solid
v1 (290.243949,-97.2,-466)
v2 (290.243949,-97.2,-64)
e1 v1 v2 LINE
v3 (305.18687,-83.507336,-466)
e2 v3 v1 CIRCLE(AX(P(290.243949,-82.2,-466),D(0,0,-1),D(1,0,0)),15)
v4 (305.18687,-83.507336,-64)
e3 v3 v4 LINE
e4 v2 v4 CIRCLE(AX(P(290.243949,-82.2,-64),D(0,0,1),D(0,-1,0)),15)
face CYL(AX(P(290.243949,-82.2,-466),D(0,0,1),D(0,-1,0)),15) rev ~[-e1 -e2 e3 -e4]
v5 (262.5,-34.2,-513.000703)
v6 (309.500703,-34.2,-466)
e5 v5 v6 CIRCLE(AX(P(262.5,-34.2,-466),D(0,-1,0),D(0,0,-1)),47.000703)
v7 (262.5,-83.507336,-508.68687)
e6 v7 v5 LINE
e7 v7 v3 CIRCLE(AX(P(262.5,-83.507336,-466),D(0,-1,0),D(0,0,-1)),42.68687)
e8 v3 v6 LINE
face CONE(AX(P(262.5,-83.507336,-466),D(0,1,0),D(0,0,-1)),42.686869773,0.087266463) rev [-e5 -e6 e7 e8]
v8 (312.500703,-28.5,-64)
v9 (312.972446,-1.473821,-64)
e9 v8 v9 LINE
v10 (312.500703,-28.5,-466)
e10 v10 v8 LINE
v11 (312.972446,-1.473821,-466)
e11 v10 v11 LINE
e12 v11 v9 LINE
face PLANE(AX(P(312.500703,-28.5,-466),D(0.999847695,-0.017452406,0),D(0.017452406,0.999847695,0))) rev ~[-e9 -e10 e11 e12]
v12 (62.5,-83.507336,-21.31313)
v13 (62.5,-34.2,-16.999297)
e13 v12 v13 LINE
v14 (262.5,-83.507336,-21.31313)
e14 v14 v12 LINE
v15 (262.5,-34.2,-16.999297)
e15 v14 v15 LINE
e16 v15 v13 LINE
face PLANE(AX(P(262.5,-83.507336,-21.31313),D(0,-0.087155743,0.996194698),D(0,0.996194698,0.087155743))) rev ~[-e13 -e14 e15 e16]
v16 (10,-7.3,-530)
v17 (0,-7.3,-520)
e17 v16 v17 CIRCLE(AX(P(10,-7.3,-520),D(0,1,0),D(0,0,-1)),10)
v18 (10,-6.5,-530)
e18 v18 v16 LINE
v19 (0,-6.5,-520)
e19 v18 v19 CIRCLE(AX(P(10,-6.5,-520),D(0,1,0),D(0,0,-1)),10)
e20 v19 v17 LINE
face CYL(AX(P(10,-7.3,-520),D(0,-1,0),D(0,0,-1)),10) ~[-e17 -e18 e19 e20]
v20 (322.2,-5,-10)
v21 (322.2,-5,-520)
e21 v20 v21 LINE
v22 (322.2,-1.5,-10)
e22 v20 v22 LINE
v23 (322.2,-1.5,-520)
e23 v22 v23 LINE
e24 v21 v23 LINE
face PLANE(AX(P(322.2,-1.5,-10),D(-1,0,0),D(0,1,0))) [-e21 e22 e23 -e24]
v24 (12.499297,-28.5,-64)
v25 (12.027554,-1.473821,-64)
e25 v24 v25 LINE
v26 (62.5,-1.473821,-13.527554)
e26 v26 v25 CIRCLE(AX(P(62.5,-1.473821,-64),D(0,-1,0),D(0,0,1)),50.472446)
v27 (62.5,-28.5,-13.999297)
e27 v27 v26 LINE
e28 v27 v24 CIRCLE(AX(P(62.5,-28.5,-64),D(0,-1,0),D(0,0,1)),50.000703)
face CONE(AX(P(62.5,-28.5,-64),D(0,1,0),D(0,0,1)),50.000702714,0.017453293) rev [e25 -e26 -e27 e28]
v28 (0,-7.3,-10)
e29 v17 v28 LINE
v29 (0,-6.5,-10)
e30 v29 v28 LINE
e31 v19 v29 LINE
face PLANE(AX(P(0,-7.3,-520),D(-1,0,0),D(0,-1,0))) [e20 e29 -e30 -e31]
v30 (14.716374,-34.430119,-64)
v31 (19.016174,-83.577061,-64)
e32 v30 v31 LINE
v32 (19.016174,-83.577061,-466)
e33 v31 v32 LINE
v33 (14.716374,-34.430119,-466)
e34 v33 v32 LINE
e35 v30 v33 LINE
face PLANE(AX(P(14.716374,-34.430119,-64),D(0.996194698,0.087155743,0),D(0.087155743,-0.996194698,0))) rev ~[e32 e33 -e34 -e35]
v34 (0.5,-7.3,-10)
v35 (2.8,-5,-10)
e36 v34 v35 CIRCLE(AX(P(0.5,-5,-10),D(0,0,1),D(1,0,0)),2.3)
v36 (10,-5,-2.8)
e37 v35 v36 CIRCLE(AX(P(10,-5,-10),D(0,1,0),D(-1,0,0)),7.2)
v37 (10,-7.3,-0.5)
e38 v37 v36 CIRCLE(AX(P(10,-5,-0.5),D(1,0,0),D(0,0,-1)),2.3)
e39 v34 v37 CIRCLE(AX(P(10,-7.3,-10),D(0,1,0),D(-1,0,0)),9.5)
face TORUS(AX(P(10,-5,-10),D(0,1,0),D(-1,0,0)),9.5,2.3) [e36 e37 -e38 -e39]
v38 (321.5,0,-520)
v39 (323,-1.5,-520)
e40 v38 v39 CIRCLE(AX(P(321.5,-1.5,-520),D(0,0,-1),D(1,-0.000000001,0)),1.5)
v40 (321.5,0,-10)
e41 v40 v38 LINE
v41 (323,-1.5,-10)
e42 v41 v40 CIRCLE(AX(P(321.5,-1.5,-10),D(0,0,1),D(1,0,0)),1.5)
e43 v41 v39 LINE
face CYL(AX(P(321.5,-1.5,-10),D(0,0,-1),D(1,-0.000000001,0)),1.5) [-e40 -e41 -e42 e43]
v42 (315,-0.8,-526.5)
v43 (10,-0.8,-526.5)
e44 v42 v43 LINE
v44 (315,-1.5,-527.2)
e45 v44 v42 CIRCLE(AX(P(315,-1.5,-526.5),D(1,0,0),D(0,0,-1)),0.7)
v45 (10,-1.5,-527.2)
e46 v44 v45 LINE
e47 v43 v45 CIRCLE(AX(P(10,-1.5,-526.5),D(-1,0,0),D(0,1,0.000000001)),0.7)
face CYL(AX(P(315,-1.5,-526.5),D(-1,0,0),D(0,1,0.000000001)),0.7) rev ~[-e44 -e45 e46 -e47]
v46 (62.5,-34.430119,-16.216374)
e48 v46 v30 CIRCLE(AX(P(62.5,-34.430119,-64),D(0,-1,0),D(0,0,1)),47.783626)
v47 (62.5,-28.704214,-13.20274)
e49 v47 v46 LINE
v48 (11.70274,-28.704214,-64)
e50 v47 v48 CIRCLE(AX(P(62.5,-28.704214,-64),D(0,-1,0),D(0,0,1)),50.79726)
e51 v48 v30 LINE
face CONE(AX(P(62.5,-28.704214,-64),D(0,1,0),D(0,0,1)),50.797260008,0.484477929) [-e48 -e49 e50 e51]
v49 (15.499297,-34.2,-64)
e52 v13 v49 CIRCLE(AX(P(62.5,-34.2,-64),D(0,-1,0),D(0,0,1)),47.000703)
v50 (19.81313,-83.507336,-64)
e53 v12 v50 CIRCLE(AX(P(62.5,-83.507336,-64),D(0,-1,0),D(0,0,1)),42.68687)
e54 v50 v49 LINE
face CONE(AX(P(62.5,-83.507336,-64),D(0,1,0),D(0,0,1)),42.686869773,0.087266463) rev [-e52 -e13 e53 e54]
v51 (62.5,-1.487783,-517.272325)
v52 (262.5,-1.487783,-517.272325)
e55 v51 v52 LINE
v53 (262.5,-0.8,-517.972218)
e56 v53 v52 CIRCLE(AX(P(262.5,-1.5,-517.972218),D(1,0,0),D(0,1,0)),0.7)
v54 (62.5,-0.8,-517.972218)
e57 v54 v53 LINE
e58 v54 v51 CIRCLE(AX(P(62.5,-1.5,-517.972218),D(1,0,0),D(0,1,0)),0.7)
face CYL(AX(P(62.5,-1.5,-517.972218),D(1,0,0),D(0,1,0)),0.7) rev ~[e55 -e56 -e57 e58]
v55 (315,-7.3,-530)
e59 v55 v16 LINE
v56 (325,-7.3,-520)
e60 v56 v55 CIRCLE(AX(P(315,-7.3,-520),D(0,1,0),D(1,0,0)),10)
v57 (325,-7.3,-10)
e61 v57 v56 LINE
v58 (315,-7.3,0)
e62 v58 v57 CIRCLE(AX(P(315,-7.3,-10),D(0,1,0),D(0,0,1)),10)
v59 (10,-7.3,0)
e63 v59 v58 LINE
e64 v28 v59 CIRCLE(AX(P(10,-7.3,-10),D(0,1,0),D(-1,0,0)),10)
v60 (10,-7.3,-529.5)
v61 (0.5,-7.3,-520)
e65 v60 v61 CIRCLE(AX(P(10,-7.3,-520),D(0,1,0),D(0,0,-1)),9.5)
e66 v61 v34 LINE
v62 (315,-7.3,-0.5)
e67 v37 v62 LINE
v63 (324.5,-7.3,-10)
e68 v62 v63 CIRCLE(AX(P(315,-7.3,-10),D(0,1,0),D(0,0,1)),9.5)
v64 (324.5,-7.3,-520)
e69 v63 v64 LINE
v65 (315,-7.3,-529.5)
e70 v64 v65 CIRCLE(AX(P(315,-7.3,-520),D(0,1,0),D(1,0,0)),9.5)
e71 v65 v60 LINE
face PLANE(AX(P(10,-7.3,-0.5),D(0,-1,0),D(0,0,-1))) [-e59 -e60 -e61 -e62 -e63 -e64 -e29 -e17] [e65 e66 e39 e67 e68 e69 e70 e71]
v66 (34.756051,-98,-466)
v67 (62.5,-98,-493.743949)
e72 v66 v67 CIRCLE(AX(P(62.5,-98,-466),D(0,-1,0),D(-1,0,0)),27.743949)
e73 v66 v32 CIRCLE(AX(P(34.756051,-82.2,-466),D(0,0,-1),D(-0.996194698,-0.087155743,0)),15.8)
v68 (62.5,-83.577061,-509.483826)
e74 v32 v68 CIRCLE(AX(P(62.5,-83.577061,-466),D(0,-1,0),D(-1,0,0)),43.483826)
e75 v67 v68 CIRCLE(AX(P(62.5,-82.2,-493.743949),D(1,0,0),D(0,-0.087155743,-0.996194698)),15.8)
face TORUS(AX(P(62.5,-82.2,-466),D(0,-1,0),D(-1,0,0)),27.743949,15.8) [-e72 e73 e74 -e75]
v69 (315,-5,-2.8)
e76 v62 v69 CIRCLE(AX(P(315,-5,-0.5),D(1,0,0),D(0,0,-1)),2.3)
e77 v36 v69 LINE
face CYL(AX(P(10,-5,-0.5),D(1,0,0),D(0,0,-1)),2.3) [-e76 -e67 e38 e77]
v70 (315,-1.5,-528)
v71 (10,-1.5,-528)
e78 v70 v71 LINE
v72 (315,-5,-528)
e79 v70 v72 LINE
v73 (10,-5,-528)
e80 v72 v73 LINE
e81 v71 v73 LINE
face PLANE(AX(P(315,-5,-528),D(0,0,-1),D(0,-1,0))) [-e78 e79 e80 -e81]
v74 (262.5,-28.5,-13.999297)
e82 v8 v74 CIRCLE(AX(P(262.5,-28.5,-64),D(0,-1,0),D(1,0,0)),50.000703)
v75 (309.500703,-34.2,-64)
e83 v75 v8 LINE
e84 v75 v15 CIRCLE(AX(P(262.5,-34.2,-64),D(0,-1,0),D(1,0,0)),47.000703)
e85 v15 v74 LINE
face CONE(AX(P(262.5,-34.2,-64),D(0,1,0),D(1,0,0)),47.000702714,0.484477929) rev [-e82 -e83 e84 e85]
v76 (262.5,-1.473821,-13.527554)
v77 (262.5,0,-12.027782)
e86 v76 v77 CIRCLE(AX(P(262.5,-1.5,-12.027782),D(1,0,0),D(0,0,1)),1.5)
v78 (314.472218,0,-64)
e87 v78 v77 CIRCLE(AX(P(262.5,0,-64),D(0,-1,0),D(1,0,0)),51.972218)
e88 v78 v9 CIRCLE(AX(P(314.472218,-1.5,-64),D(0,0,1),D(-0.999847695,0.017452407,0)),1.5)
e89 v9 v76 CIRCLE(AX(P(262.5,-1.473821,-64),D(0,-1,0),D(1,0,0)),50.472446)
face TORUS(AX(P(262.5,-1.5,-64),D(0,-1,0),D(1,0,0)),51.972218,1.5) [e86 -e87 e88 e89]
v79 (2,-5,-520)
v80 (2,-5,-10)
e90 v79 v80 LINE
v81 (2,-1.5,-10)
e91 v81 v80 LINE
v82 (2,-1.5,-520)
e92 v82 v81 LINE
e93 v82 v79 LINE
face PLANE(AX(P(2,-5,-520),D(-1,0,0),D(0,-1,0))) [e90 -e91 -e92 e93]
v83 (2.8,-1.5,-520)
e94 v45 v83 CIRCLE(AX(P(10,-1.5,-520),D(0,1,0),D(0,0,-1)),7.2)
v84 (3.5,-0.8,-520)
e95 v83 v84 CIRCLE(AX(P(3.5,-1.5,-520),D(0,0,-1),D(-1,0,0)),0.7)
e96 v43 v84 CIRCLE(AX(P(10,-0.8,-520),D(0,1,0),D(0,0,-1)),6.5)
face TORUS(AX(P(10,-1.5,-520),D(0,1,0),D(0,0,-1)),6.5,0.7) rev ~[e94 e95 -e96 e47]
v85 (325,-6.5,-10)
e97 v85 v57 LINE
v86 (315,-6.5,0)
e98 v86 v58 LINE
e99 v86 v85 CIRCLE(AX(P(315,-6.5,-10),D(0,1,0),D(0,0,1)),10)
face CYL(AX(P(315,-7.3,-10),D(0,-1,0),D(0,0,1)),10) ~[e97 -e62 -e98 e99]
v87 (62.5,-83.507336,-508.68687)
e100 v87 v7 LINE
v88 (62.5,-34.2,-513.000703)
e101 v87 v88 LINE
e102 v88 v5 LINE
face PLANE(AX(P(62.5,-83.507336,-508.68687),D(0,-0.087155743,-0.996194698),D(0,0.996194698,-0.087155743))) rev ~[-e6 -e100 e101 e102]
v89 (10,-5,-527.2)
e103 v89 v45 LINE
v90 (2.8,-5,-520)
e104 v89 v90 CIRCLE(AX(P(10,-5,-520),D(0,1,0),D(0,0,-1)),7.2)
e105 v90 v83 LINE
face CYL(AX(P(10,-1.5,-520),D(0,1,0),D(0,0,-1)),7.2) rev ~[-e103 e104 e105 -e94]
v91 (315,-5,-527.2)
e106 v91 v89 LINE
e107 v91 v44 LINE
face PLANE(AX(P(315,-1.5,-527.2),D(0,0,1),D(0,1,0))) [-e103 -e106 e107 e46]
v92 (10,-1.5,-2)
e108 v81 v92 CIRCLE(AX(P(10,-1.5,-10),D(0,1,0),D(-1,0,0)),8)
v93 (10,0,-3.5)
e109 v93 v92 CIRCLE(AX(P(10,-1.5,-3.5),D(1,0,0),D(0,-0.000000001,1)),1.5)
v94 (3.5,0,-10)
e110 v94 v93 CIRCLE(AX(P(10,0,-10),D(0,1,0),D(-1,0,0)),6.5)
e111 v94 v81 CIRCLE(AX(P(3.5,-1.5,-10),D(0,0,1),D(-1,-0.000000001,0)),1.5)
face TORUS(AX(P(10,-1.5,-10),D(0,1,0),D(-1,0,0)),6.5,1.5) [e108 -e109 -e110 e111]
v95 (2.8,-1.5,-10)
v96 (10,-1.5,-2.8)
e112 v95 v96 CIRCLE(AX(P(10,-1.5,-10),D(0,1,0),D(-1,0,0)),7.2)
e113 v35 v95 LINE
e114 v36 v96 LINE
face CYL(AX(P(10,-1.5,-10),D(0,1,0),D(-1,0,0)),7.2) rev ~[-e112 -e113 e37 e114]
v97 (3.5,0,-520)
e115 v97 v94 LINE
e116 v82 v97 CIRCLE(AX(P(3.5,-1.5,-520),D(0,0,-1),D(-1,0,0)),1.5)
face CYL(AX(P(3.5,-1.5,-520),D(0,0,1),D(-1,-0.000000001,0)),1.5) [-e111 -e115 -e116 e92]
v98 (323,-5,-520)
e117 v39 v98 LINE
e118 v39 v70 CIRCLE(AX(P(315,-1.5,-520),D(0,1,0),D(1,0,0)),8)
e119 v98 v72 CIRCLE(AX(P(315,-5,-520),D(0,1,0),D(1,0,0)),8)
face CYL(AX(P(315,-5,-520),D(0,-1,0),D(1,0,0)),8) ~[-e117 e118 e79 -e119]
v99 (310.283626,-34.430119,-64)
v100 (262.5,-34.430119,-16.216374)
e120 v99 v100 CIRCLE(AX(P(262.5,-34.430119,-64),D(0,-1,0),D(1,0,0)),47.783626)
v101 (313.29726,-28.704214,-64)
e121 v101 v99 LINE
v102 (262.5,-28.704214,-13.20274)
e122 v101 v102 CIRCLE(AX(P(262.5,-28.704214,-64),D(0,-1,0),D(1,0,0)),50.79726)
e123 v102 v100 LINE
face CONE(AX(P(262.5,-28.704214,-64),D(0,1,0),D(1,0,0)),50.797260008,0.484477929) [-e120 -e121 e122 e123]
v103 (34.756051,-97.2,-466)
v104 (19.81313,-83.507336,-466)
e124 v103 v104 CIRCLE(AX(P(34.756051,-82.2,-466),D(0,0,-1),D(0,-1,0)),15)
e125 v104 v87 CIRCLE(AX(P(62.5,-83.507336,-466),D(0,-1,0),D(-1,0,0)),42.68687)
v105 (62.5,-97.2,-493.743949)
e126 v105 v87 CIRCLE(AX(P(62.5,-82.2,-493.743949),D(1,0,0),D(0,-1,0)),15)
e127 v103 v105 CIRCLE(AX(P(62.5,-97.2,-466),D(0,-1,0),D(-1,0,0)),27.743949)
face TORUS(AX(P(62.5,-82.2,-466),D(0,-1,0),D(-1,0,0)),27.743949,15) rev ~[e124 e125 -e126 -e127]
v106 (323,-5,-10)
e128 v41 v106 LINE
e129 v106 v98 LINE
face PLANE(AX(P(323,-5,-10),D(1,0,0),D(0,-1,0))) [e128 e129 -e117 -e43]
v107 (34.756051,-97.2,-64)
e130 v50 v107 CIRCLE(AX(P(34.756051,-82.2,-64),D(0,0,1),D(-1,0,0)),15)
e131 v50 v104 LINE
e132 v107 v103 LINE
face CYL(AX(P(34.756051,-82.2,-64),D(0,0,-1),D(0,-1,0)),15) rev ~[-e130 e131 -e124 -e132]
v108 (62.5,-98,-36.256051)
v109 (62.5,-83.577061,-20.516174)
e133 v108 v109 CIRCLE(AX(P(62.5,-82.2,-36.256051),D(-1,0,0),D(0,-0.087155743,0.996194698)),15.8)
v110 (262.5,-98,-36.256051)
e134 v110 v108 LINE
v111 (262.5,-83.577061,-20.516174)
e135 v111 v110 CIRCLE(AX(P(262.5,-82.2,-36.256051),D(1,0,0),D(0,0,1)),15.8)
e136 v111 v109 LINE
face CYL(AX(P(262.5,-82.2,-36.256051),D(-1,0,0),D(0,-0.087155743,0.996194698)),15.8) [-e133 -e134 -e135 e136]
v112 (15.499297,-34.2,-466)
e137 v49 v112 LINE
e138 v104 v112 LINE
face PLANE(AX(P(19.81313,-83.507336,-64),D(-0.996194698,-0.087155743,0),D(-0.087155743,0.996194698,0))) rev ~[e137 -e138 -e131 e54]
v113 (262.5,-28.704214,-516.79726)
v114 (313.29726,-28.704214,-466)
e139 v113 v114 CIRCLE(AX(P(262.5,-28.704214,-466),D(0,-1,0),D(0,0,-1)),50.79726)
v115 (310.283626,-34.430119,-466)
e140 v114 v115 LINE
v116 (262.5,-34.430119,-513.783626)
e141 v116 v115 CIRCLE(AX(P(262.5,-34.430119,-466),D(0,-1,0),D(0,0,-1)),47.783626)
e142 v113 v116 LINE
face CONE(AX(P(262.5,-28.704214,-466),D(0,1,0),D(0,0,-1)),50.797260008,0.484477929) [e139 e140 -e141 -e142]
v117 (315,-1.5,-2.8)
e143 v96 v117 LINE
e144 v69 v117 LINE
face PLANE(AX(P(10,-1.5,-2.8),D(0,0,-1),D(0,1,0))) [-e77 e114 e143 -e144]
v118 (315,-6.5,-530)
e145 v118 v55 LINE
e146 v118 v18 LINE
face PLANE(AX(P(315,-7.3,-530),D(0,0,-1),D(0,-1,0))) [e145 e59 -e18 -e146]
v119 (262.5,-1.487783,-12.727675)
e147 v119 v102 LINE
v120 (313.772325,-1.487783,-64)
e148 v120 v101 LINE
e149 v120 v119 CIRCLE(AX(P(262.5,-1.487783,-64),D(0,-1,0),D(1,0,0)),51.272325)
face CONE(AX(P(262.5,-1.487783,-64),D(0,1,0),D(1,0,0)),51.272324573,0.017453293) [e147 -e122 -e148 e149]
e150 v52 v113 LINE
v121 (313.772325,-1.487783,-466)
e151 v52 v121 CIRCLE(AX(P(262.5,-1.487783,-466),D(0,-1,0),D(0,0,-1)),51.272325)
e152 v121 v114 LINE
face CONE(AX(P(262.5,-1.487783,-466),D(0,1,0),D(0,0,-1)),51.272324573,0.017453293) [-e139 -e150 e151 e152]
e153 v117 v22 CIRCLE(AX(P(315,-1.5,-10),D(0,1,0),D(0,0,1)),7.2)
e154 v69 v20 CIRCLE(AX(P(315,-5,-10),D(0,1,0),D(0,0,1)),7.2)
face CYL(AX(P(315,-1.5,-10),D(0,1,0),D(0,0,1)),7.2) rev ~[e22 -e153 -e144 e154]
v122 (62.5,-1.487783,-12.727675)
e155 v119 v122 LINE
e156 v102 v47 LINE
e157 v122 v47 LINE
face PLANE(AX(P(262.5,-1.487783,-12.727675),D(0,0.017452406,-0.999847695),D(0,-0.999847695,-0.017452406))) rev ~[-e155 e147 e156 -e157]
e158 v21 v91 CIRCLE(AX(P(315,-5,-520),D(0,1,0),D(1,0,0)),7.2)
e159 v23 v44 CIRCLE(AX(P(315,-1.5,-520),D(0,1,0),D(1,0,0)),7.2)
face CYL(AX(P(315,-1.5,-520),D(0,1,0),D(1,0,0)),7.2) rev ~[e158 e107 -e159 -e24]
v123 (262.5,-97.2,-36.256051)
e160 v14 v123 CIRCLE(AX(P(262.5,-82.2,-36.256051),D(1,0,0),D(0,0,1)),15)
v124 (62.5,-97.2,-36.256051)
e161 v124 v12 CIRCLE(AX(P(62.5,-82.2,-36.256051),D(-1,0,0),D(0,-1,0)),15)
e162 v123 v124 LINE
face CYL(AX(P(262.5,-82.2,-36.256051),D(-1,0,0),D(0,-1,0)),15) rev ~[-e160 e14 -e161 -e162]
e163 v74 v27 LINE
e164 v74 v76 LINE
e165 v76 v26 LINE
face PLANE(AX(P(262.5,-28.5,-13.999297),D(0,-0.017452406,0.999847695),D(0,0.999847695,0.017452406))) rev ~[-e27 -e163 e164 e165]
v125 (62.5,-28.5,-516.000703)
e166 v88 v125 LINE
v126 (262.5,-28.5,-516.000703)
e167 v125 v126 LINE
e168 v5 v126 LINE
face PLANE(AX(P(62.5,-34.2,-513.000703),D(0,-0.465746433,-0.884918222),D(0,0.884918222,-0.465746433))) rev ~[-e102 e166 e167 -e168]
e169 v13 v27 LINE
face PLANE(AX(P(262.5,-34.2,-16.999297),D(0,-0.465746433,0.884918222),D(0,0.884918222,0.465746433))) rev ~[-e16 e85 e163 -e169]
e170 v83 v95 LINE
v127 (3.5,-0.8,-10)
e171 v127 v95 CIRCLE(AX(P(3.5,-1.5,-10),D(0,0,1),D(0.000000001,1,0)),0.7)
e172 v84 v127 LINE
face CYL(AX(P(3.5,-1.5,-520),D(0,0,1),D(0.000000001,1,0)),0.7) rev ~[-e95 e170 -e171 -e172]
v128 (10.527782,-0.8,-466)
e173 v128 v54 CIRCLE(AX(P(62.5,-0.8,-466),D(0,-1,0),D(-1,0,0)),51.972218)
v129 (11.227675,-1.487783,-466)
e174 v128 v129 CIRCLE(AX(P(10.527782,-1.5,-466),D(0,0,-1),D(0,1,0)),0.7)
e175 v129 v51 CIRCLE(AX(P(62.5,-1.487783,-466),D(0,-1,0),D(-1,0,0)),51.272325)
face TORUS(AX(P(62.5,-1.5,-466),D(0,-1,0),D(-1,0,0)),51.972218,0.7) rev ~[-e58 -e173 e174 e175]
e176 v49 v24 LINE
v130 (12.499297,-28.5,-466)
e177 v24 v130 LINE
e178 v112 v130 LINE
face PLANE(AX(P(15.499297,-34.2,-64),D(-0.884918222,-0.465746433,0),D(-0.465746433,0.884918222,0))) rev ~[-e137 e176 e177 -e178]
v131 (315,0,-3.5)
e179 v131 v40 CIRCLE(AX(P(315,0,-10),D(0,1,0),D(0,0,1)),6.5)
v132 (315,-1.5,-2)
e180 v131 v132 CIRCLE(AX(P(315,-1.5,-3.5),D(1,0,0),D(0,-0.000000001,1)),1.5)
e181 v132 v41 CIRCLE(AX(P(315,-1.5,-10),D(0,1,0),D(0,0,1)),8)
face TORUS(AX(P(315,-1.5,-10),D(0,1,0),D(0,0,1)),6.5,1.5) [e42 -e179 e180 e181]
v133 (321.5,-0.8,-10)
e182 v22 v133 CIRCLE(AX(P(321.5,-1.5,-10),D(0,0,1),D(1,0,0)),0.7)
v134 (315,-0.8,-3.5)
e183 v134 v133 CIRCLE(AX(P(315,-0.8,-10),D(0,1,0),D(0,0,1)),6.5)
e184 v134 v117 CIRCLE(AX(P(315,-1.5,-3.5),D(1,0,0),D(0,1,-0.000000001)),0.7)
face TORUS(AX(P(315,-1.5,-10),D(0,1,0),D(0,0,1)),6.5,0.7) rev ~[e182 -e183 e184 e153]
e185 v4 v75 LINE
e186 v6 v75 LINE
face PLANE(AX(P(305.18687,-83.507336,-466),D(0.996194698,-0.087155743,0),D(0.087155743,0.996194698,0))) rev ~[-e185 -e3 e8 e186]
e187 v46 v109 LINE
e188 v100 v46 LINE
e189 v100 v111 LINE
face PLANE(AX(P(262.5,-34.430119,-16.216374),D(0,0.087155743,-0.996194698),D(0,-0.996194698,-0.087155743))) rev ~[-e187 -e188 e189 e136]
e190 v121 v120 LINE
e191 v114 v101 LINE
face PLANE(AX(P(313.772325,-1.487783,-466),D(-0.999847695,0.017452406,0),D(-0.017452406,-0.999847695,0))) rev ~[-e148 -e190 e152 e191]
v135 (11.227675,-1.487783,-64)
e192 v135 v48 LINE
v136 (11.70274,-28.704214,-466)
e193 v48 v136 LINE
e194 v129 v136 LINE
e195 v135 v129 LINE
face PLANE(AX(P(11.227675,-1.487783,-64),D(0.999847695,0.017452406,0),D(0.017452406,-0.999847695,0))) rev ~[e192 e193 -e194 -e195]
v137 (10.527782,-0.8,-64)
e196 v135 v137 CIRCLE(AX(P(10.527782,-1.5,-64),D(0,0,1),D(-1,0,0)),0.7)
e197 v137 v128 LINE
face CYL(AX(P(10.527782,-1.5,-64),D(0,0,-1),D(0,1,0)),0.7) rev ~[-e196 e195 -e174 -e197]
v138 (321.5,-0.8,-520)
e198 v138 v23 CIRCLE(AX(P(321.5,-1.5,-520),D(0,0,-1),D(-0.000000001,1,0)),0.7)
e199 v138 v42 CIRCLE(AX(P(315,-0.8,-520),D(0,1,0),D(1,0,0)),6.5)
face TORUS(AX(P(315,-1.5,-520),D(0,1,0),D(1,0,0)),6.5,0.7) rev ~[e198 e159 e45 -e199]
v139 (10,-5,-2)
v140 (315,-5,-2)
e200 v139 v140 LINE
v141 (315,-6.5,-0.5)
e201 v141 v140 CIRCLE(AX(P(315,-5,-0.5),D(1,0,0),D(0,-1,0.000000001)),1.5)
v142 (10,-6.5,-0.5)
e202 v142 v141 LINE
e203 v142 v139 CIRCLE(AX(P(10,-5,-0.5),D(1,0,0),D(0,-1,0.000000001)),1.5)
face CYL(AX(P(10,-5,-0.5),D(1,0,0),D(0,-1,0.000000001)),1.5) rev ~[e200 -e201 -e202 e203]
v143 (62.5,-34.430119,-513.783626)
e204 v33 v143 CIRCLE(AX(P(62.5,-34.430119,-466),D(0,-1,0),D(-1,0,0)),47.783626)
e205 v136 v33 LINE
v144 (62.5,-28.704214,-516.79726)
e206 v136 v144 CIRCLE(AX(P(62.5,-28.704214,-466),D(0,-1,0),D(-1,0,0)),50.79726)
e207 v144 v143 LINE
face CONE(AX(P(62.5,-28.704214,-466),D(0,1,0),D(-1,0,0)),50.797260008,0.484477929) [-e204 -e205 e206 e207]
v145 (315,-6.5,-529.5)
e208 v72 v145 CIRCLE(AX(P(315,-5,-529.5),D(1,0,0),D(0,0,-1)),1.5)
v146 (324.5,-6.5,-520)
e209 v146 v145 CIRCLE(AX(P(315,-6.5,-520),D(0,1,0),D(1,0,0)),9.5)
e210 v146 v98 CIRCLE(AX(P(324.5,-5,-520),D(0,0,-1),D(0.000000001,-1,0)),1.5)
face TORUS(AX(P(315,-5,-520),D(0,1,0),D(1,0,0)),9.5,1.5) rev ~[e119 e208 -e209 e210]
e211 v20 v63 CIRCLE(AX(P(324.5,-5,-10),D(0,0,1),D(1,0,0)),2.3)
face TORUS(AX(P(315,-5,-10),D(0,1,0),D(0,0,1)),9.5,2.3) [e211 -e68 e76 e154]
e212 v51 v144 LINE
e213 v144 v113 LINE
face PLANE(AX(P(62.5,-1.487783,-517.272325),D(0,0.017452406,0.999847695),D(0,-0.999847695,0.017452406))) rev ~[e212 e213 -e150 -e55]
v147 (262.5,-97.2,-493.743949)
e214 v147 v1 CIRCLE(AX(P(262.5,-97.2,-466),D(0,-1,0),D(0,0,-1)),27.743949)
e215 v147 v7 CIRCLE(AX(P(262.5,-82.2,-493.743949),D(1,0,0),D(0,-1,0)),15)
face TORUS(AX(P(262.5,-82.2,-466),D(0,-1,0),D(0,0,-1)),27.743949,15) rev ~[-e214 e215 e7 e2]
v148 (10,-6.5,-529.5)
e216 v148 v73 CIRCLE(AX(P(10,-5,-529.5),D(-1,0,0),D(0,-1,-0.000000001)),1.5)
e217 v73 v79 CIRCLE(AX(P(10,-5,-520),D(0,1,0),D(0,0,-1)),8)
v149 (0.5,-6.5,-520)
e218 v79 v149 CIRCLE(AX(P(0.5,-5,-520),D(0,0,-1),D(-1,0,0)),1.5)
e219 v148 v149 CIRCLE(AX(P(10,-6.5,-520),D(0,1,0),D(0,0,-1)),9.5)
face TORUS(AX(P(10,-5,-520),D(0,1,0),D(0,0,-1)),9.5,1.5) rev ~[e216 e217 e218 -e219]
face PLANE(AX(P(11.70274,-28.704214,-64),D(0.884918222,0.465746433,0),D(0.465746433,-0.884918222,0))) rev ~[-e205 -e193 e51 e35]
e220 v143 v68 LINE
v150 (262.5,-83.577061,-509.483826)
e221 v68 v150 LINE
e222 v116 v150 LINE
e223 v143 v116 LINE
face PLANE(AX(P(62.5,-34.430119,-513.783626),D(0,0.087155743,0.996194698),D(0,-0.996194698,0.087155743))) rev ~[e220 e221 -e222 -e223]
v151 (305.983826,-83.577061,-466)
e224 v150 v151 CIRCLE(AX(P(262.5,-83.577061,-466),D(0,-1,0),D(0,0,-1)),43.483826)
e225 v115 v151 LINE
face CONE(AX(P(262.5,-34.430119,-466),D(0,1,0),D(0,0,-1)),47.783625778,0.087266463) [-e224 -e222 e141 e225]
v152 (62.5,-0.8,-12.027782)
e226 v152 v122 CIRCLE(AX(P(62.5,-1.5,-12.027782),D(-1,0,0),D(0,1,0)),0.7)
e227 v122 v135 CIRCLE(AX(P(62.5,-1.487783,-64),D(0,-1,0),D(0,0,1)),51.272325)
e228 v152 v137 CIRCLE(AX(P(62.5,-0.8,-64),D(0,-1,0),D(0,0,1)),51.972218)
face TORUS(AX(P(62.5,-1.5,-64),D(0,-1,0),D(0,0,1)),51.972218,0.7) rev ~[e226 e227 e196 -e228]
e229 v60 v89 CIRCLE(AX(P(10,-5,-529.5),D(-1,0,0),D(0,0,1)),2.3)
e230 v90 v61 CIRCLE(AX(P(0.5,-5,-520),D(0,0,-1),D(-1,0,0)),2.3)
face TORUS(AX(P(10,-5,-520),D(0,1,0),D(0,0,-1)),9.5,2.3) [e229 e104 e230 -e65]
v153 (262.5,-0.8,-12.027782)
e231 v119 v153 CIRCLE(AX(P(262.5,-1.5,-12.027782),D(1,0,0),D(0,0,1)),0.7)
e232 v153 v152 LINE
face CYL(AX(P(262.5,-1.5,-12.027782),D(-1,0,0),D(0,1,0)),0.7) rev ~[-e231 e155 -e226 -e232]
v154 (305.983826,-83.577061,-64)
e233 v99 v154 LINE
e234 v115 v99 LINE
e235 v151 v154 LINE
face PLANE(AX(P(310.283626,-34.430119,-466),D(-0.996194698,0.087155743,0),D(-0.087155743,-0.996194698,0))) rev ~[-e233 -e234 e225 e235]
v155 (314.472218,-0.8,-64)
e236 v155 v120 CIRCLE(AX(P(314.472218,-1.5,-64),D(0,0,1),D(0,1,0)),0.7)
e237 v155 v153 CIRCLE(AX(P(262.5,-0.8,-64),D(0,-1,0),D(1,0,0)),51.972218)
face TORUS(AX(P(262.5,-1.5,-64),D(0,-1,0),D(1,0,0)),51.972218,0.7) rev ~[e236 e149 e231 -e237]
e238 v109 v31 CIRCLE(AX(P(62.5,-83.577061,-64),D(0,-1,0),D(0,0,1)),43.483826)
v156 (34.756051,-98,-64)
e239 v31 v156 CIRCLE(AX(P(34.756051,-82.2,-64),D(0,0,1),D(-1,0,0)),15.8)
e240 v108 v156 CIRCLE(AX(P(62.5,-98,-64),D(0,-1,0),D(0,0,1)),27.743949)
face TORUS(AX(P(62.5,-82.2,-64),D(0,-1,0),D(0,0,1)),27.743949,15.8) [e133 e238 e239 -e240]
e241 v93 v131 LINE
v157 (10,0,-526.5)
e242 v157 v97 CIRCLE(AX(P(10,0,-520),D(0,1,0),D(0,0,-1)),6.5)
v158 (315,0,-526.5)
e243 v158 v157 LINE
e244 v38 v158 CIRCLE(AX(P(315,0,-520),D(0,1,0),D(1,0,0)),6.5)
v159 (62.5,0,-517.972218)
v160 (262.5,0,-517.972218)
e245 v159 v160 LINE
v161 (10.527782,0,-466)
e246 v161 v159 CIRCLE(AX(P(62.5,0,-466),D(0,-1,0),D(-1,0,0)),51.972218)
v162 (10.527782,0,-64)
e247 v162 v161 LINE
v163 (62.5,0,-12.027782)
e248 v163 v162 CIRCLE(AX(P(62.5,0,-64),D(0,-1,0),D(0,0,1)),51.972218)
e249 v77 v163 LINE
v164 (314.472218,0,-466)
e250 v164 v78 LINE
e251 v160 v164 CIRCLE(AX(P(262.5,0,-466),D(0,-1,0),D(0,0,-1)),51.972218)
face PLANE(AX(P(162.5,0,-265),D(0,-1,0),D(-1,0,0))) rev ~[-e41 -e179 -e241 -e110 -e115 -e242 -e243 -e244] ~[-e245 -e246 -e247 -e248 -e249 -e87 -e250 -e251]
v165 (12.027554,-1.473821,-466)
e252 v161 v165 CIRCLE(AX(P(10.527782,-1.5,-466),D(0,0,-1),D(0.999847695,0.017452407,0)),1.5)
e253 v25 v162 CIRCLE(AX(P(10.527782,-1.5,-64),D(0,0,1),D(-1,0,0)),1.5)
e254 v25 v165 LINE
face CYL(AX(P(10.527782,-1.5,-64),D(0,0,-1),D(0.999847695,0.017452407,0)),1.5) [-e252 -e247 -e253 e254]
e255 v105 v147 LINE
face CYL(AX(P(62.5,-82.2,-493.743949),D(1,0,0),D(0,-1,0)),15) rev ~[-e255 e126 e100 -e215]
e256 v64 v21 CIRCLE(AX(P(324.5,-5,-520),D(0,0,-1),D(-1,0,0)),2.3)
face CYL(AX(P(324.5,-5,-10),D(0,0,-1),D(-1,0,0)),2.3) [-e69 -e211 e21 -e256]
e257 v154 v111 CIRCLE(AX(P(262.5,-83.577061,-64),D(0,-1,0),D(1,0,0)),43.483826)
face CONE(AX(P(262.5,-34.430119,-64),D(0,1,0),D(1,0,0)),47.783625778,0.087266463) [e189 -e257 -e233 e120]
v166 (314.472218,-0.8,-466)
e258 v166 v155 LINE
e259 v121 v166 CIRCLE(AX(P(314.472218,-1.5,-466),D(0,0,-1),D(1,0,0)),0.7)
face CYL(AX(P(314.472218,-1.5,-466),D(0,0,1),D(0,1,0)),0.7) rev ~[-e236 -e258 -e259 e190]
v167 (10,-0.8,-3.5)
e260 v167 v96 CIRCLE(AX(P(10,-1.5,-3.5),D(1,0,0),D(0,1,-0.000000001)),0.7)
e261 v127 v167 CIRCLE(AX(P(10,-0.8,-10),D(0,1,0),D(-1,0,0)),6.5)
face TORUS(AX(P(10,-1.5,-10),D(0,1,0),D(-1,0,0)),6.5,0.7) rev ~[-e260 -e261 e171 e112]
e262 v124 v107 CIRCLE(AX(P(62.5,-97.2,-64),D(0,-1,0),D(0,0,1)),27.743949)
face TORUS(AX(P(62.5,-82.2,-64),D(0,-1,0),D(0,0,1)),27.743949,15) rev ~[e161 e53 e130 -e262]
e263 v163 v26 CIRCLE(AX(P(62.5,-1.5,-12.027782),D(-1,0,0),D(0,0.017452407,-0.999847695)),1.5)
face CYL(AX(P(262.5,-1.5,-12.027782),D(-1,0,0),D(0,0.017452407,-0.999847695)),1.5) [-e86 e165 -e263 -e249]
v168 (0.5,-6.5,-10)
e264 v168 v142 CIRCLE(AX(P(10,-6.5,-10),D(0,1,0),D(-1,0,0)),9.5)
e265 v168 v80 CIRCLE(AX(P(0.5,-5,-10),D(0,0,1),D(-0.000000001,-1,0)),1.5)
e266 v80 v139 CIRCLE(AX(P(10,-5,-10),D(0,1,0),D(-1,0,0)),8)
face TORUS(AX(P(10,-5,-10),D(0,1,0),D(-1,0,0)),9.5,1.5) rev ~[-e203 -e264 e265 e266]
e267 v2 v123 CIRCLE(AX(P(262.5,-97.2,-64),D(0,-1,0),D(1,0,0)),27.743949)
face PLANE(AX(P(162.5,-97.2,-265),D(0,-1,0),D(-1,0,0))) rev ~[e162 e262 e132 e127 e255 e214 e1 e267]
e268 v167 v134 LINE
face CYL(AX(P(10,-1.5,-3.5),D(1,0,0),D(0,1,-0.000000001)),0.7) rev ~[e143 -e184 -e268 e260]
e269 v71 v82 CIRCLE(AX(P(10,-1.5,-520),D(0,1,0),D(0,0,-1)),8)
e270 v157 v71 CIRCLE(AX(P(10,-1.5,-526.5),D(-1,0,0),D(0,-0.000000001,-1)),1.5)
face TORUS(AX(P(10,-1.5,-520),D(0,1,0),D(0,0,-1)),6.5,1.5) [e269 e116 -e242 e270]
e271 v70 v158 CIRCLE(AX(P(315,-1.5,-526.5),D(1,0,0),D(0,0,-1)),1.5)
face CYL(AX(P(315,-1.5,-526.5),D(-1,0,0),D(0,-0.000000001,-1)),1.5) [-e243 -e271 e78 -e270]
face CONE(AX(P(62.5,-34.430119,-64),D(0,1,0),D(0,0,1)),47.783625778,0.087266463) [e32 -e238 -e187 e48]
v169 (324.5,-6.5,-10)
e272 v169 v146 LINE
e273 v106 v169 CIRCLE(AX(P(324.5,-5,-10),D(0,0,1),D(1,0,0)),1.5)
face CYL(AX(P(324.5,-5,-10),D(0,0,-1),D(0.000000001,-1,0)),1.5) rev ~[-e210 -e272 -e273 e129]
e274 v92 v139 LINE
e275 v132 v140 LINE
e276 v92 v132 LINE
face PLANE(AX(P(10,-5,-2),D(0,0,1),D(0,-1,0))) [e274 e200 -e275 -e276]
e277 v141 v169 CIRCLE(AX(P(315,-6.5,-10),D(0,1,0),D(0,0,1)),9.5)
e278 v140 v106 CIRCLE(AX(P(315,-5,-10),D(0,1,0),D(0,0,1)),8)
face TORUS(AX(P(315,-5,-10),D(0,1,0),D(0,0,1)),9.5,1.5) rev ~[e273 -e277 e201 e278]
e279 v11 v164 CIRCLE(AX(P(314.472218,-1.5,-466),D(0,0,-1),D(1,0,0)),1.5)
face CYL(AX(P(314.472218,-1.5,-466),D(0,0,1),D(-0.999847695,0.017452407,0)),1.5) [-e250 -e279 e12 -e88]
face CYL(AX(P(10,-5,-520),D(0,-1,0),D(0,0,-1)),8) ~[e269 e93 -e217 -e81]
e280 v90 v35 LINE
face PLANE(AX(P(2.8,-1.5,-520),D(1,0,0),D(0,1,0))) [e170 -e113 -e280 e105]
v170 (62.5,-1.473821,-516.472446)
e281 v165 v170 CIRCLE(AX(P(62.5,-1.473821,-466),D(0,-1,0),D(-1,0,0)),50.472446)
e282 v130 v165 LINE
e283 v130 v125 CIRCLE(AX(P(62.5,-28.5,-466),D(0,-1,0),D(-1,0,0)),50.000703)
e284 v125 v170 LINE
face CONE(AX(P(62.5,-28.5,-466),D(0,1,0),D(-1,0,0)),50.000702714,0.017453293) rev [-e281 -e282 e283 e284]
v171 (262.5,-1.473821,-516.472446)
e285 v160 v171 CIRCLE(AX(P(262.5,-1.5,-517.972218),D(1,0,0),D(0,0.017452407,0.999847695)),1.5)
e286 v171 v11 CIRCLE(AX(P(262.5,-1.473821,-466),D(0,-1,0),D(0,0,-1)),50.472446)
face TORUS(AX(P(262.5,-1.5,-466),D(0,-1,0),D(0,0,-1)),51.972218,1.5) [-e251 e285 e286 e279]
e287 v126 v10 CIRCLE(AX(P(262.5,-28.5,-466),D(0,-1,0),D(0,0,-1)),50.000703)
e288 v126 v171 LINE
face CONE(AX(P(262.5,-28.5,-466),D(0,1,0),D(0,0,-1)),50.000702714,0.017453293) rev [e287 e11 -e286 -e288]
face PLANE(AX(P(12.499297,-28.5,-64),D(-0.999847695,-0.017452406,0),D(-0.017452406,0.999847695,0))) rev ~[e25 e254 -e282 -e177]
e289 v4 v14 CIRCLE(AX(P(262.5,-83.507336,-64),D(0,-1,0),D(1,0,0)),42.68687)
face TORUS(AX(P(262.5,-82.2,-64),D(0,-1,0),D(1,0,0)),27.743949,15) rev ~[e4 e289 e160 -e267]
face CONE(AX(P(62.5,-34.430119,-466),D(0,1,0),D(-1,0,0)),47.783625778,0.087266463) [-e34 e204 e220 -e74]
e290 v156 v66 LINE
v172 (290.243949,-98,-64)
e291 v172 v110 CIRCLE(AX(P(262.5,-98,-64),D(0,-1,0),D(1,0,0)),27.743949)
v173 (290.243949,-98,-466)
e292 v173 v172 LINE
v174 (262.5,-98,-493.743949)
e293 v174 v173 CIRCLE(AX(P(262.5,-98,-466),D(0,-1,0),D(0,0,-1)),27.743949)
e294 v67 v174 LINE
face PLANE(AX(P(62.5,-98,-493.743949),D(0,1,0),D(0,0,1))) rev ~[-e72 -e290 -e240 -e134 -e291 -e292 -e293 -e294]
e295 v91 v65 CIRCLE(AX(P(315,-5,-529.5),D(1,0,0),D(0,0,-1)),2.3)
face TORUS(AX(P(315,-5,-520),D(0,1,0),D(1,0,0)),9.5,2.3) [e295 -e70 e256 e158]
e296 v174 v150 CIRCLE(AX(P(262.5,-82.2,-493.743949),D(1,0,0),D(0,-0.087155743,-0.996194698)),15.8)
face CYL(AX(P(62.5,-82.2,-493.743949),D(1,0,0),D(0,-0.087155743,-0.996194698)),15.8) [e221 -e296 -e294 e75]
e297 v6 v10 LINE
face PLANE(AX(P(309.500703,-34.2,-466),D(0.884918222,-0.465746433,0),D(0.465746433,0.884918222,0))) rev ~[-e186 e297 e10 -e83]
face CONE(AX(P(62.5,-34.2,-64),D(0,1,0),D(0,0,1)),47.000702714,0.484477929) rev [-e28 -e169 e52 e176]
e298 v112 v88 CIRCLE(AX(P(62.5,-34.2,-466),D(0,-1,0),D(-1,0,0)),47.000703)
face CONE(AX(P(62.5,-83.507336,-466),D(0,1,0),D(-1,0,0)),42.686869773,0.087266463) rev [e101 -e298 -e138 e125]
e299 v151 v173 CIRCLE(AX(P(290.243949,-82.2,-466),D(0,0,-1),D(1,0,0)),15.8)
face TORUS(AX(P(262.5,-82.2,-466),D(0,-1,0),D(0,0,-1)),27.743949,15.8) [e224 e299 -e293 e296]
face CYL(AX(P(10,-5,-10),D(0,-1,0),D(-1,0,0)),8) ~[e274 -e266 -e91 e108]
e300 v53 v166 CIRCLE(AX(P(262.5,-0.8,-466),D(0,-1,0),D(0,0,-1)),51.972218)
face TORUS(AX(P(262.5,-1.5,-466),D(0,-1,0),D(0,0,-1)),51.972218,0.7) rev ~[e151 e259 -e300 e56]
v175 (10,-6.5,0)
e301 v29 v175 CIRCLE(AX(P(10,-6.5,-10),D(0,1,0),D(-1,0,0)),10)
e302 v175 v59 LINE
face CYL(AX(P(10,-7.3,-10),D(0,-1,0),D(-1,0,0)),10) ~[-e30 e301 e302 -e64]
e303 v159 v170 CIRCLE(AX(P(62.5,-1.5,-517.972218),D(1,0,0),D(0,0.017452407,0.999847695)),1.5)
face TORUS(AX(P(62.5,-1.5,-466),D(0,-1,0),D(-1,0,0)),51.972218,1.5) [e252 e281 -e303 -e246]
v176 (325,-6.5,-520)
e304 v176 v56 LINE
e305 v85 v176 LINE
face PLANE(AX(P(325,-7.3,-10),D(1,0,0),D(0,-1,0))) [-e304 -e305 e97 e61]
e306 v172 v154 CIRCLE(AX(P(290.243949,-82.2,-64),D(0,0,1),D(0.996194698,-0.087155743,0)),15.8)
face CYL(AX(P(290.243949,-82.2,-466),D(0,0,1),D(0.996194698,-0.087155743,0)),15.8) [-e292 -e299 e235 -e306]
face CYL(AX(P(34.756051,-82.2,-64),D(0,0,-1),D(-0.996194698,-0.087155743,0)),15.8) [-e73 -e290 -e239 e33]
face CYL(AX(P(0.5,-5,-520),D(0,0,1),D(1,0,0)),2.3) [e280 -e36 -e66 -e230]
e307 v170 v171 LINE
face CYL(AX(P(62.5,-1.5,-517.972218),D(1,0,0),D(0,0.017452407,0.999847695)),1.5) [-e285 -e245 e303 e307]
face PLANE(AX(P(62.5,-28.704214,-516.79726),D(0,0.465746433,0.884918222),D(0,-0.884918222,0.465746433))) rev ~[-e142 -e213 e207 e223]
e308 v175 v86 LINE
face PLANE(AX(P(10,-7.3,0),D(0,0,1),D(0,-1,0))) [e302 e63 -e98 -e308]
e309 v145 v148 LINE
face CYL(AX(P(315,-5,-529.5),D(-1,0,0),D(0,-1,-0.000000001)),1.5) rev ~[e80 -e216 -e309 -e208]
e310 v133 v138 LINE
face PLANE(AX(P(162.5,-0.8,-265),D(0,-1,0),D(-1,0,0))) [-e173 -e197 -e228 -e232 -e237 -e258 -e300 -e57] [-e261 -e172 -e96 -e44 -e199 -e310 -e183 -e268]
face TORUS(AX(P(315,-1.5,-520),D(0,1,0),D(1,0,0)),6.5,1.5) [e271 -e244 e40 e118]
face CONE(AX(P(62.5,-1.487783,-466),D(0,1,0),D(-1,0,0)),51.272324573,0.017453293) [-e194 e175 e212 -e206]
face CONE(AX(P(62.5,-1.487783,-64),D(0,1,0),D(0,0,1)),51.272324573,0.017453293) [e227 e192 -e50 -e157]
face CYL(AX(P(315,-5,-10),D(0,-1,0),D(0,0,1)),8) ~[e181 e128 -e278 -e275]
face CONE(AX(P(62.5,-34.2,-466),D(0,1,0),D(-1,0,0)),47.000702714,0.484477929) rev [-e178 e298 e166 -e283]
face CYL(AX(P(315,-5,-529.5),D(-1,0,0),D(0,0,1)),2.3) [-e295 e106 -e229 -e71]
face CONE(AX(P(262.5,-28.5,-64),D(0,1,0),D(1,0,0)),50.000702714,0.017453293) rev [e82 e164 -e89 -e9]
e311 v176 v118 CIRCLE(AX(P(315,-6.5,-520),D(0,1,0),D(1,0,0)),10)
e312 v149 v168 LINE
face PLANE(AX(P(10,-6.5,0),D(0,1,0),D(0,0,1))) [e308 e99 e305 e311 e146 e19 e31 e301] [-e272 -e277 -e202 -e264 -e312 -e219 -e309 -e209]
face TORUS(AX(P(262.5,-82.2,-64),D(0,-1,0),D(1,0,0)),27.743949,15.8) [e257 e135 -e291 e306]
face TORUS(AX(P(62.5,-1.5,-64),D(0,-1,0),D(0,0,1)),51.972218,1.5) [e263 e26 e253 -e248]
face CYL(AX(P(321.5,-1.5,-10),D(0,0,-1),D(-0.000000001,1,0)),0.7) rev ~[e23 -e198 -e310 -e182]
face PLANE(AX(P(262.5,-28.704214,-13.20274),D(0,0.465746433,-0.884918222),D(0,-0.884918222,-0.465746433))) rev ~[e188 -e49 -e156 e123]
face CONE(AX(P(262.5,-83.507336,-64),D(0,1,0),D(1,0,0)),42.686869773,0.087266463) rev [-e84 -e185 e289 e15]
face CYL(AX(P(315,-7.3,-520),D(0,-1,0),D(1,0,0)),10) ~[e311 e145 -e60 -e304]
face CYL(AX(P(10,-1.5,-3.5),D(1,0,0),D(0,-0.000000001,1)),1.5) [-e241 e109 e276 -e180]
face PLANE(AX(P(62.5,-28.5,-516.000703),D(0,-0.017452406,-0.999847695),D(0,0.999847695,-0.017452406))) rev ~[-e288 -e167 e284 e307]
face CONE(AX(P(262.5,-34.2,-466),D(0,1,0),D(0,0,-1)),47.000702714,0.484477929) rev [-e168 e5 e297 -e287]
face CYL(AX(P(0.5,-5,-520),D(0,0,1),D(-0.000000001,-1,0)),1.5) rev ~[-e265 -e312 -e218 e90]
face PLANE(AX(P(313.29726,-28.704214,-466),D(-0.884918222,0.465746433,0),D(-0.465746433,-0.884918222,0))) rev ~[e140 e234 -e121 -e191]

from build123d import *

# Parameters (mm, degrees)
BOSS_EXTRUDE2_DEPTH = 0.8
BOSS_EXTRUDE3_START = -0.8
BOSS_EXTRUDE3_DEPTH = 0.8


with BuildPart() as part:
    # Sweep9: sweep along a path in Sketch1
    with BuildLine(Plane(origin=(0, 0, 0), x_dir=(1, 0, 0), z_dir=(0, 1, 0))) as sweep9_path:
        Line((10, 0), (315, 0))
        ThreePointArc((315, 0), (322.071067812, 2.928932188), (325, 10))
        Line((325, 10), (325, 520))
        ThreePointArc((325, 520), (322.071067812, 527.071067812), (315, 530))
        Line((315, 530), (10, 530))
        ThreePointArc((10, 530), (2.928932188, 527.071067812), (0, 520))
        Line((0, 520), (0, 10))
        ThreePointArc((0, 10), (2.928932188, 2.928932188), (10, 0))
    # Sketch7 → Sweep9 (sweep)
    with BuildSketch(Plane.XY.offset(-10)):
        with BuildLine():
            Line((2, -5), (2, -1.5))
            ThreePointArc((2, -1.5), (2.439339828, -0.439339828), (3.5, 0))
            Line((3.5, 0), (3.5, -0.8))
            ThreePointArc((3.5, -0.8), (3.005025253, -1.005025253), (2.8, -1.5))
            Line((2.8, -1.5), (2.8, -5))
            ThreePointArc((2.8, -5), (2.126345597, -6.626345597), (0.5, -7.3))
            Line((0.5, -7.3), (0, -7.3))
            Line((0, -7.3), (0, -6.5))
            Line((0, -6.5), (0.5, -6.5))
            ThreePointArc((0.5, -6.5), (1.560660172, -6.060660172), (2, -5))
        make_face()
    sweep(path=sweep9_path.line)



with BuildPart() as body_2:
    # Sweep10: sweep along a path in Sketch9
    with BuildLine(Plane(origin=(0, 0, 0), x_dir=(1, 0, 0), z_dir=(0, 1, 0))) as sweep10_path:
        Line((62.5, 516), (262.5, 516))
        ThreePointArc((262.5, 516), (297.855339059, 501.355339059), (312.5, 466))
        Line((312.5, 466), (312.5, 64))
        ThreePointArc((312.5, 64), (297.855339059, 28.644660941), (262.5, 14))
        Line((262.5, 14), (62.5, 14))
        ThreePointArc((62.5, 14), (27.144660941, 28.644660941), (12.5, 64))
        Line((12.5, 64), (12.5, 466))
        ThreePointArc((12.5, 466), (27.144660941, 501.355339059), (62.5, 516))
    # Sketch10 → Sweep10 (sweep)
    with BuildSketch(Plane.XY.offset(-64)):
        with BuildLine():
            Line((10.527782042, 0), (10.527782042, -0.8))
            ThreePointArc((10.527782042, -0.8), (11.018418527, -1.000724686), (11.227675428, -1.487783315))
            Line((11.227675428, -1.487783315), (11.702739993, -28.704213986))
            Line((11.702739993, -28.704213986), (14.716374223, -34.430119022))
            Line((14.716374223, -34.430119022), (19.01617447, -83.577060735))
            ThreePointArc((19.01617447, -83.577060735), (24.081725419, -93.848981922), (34.756050699, -98))
            Line((34.756050699, -98), (44.756050699, -98))
            Line((44.756050699, -98), (44.756050699, -97.2))
            Line((44.756050699, -97.2), (34.756050699, -97.2))
            ThreePointArc((34.756050699, -97.2), (24.622197585, -93.259160052), (19.813130228, -83.507336141))
            Line((19.813130228, -83.507336141), (15.499297287, -34.2))
            Line((15.499297287, -34.2), (12.499297287, -28.5))
            Line((12.499297287, -28.5), (12.027553585, -1.47382139))
            ThreePointArc((12.027553585, -1.47382139), (11.579145938, -0.430124326), (10.527782042, 0))
        make_face()
    sweep(path=sweep10_path.line)


with BuildPart() as part_1:
    add(part.part)

    add(body_2.part)  # Boss-Extrude2 merges body 2
    # Sketch11 → Boss-Extrude2 (add)
    with BuildSketch(Plane(origin=(0, 0, 0), x_dir=(1, 0, 0), z_dir=(0, 1, 0))):
        with BuildLine():
            Line((321.5, 520), (321.5, 10))
            ThreePointArc((321.5, 10), (319.596194078, 5.403805922), (315, 3.5))
            Line((315, 3.5), (10, 3.5))
            ThreePointArc((10, 3.5), (5.403805922, 5.403805922), (3.5, 10))
            Line((3.5, 10), (3.5, 520))
            ThreePointArc((3.5, 520), (5.403805922, 524.596194078), (10, 526.5))
            Line((10, 526.5), (315, 526.5))
            ThreePointArc((315, 526.5), (319.596194078, 524.596194078), (321.5, 520))
        make_face()
        with BuildLine():
            Line((10.527782042, 64), (10.527782042, 466))
            ThreePointArc((10.527782042, 466), (25.750092248, 502.749907752), (62.5, 517.972217958))
            Line((62.5, 517.972217958), (262.5, 517.972217958))
            ThreePointArc((262.5, 517.972217958), (299.249907752, 502.749907752), (314.472217958, 466))
            Line((314.472217958, 466), (314.472217958, 64))
            ThreePointArc((314.472217958, 64), (299.249907752, 27.250092248), (262.5, 12.027782042))
            Line((262.5, 12.027782042), (62.5, 12.027782042))
            ThreePointArc((62.5, 12.027782042), (25.750092248, 27.250092248), (10.527782042, 64))
        make_face(mode=Mode.SUBTRACT)
    extrude(amount=-BOSS_EXTRUDE2_DEPTH)

    # Sketch12 → Boss-Extrude3 (add)
    with BuildSketch(Plane(origin=(0, -98, 0), x_dir=(-1, 0, 0), z_dir=(0, -1, 0)).offset(BOSS_EXTRUDE3_START)):
        with BuildLine():
            Line((-62.5, 483.743949301), (-262.5, 483.743949301))
            ThreePointArc((-262.5, 483.743949301), (-275.046866876, 478.546866876), (-280.243949301, 466))
            Line((-280.243949301, 466), (-280.243949301, 64))
            ThreePointArc((-280.243949301, 64), (-275.046866876, 51.453133124), (-262.5, 46.256050699))
            Line((-262.5, 46.256050699), (-62.5, 46.256050699))
            ThreePointArc((-62.5, 46.256050699), (-49.953133124, 51.453133124), (-44.756050699, 64))
            Line((-44.756050699, 64), (-44.756050699, 466))
            ThreePointArc((-44.756050699, 466), (-49.953133124, 478.546866876), (-62.5, 483.743949301))
        make_face()
    extrude(amount=BOSS_EXTRUDE3_DEPTH)


solid = part_1.part
